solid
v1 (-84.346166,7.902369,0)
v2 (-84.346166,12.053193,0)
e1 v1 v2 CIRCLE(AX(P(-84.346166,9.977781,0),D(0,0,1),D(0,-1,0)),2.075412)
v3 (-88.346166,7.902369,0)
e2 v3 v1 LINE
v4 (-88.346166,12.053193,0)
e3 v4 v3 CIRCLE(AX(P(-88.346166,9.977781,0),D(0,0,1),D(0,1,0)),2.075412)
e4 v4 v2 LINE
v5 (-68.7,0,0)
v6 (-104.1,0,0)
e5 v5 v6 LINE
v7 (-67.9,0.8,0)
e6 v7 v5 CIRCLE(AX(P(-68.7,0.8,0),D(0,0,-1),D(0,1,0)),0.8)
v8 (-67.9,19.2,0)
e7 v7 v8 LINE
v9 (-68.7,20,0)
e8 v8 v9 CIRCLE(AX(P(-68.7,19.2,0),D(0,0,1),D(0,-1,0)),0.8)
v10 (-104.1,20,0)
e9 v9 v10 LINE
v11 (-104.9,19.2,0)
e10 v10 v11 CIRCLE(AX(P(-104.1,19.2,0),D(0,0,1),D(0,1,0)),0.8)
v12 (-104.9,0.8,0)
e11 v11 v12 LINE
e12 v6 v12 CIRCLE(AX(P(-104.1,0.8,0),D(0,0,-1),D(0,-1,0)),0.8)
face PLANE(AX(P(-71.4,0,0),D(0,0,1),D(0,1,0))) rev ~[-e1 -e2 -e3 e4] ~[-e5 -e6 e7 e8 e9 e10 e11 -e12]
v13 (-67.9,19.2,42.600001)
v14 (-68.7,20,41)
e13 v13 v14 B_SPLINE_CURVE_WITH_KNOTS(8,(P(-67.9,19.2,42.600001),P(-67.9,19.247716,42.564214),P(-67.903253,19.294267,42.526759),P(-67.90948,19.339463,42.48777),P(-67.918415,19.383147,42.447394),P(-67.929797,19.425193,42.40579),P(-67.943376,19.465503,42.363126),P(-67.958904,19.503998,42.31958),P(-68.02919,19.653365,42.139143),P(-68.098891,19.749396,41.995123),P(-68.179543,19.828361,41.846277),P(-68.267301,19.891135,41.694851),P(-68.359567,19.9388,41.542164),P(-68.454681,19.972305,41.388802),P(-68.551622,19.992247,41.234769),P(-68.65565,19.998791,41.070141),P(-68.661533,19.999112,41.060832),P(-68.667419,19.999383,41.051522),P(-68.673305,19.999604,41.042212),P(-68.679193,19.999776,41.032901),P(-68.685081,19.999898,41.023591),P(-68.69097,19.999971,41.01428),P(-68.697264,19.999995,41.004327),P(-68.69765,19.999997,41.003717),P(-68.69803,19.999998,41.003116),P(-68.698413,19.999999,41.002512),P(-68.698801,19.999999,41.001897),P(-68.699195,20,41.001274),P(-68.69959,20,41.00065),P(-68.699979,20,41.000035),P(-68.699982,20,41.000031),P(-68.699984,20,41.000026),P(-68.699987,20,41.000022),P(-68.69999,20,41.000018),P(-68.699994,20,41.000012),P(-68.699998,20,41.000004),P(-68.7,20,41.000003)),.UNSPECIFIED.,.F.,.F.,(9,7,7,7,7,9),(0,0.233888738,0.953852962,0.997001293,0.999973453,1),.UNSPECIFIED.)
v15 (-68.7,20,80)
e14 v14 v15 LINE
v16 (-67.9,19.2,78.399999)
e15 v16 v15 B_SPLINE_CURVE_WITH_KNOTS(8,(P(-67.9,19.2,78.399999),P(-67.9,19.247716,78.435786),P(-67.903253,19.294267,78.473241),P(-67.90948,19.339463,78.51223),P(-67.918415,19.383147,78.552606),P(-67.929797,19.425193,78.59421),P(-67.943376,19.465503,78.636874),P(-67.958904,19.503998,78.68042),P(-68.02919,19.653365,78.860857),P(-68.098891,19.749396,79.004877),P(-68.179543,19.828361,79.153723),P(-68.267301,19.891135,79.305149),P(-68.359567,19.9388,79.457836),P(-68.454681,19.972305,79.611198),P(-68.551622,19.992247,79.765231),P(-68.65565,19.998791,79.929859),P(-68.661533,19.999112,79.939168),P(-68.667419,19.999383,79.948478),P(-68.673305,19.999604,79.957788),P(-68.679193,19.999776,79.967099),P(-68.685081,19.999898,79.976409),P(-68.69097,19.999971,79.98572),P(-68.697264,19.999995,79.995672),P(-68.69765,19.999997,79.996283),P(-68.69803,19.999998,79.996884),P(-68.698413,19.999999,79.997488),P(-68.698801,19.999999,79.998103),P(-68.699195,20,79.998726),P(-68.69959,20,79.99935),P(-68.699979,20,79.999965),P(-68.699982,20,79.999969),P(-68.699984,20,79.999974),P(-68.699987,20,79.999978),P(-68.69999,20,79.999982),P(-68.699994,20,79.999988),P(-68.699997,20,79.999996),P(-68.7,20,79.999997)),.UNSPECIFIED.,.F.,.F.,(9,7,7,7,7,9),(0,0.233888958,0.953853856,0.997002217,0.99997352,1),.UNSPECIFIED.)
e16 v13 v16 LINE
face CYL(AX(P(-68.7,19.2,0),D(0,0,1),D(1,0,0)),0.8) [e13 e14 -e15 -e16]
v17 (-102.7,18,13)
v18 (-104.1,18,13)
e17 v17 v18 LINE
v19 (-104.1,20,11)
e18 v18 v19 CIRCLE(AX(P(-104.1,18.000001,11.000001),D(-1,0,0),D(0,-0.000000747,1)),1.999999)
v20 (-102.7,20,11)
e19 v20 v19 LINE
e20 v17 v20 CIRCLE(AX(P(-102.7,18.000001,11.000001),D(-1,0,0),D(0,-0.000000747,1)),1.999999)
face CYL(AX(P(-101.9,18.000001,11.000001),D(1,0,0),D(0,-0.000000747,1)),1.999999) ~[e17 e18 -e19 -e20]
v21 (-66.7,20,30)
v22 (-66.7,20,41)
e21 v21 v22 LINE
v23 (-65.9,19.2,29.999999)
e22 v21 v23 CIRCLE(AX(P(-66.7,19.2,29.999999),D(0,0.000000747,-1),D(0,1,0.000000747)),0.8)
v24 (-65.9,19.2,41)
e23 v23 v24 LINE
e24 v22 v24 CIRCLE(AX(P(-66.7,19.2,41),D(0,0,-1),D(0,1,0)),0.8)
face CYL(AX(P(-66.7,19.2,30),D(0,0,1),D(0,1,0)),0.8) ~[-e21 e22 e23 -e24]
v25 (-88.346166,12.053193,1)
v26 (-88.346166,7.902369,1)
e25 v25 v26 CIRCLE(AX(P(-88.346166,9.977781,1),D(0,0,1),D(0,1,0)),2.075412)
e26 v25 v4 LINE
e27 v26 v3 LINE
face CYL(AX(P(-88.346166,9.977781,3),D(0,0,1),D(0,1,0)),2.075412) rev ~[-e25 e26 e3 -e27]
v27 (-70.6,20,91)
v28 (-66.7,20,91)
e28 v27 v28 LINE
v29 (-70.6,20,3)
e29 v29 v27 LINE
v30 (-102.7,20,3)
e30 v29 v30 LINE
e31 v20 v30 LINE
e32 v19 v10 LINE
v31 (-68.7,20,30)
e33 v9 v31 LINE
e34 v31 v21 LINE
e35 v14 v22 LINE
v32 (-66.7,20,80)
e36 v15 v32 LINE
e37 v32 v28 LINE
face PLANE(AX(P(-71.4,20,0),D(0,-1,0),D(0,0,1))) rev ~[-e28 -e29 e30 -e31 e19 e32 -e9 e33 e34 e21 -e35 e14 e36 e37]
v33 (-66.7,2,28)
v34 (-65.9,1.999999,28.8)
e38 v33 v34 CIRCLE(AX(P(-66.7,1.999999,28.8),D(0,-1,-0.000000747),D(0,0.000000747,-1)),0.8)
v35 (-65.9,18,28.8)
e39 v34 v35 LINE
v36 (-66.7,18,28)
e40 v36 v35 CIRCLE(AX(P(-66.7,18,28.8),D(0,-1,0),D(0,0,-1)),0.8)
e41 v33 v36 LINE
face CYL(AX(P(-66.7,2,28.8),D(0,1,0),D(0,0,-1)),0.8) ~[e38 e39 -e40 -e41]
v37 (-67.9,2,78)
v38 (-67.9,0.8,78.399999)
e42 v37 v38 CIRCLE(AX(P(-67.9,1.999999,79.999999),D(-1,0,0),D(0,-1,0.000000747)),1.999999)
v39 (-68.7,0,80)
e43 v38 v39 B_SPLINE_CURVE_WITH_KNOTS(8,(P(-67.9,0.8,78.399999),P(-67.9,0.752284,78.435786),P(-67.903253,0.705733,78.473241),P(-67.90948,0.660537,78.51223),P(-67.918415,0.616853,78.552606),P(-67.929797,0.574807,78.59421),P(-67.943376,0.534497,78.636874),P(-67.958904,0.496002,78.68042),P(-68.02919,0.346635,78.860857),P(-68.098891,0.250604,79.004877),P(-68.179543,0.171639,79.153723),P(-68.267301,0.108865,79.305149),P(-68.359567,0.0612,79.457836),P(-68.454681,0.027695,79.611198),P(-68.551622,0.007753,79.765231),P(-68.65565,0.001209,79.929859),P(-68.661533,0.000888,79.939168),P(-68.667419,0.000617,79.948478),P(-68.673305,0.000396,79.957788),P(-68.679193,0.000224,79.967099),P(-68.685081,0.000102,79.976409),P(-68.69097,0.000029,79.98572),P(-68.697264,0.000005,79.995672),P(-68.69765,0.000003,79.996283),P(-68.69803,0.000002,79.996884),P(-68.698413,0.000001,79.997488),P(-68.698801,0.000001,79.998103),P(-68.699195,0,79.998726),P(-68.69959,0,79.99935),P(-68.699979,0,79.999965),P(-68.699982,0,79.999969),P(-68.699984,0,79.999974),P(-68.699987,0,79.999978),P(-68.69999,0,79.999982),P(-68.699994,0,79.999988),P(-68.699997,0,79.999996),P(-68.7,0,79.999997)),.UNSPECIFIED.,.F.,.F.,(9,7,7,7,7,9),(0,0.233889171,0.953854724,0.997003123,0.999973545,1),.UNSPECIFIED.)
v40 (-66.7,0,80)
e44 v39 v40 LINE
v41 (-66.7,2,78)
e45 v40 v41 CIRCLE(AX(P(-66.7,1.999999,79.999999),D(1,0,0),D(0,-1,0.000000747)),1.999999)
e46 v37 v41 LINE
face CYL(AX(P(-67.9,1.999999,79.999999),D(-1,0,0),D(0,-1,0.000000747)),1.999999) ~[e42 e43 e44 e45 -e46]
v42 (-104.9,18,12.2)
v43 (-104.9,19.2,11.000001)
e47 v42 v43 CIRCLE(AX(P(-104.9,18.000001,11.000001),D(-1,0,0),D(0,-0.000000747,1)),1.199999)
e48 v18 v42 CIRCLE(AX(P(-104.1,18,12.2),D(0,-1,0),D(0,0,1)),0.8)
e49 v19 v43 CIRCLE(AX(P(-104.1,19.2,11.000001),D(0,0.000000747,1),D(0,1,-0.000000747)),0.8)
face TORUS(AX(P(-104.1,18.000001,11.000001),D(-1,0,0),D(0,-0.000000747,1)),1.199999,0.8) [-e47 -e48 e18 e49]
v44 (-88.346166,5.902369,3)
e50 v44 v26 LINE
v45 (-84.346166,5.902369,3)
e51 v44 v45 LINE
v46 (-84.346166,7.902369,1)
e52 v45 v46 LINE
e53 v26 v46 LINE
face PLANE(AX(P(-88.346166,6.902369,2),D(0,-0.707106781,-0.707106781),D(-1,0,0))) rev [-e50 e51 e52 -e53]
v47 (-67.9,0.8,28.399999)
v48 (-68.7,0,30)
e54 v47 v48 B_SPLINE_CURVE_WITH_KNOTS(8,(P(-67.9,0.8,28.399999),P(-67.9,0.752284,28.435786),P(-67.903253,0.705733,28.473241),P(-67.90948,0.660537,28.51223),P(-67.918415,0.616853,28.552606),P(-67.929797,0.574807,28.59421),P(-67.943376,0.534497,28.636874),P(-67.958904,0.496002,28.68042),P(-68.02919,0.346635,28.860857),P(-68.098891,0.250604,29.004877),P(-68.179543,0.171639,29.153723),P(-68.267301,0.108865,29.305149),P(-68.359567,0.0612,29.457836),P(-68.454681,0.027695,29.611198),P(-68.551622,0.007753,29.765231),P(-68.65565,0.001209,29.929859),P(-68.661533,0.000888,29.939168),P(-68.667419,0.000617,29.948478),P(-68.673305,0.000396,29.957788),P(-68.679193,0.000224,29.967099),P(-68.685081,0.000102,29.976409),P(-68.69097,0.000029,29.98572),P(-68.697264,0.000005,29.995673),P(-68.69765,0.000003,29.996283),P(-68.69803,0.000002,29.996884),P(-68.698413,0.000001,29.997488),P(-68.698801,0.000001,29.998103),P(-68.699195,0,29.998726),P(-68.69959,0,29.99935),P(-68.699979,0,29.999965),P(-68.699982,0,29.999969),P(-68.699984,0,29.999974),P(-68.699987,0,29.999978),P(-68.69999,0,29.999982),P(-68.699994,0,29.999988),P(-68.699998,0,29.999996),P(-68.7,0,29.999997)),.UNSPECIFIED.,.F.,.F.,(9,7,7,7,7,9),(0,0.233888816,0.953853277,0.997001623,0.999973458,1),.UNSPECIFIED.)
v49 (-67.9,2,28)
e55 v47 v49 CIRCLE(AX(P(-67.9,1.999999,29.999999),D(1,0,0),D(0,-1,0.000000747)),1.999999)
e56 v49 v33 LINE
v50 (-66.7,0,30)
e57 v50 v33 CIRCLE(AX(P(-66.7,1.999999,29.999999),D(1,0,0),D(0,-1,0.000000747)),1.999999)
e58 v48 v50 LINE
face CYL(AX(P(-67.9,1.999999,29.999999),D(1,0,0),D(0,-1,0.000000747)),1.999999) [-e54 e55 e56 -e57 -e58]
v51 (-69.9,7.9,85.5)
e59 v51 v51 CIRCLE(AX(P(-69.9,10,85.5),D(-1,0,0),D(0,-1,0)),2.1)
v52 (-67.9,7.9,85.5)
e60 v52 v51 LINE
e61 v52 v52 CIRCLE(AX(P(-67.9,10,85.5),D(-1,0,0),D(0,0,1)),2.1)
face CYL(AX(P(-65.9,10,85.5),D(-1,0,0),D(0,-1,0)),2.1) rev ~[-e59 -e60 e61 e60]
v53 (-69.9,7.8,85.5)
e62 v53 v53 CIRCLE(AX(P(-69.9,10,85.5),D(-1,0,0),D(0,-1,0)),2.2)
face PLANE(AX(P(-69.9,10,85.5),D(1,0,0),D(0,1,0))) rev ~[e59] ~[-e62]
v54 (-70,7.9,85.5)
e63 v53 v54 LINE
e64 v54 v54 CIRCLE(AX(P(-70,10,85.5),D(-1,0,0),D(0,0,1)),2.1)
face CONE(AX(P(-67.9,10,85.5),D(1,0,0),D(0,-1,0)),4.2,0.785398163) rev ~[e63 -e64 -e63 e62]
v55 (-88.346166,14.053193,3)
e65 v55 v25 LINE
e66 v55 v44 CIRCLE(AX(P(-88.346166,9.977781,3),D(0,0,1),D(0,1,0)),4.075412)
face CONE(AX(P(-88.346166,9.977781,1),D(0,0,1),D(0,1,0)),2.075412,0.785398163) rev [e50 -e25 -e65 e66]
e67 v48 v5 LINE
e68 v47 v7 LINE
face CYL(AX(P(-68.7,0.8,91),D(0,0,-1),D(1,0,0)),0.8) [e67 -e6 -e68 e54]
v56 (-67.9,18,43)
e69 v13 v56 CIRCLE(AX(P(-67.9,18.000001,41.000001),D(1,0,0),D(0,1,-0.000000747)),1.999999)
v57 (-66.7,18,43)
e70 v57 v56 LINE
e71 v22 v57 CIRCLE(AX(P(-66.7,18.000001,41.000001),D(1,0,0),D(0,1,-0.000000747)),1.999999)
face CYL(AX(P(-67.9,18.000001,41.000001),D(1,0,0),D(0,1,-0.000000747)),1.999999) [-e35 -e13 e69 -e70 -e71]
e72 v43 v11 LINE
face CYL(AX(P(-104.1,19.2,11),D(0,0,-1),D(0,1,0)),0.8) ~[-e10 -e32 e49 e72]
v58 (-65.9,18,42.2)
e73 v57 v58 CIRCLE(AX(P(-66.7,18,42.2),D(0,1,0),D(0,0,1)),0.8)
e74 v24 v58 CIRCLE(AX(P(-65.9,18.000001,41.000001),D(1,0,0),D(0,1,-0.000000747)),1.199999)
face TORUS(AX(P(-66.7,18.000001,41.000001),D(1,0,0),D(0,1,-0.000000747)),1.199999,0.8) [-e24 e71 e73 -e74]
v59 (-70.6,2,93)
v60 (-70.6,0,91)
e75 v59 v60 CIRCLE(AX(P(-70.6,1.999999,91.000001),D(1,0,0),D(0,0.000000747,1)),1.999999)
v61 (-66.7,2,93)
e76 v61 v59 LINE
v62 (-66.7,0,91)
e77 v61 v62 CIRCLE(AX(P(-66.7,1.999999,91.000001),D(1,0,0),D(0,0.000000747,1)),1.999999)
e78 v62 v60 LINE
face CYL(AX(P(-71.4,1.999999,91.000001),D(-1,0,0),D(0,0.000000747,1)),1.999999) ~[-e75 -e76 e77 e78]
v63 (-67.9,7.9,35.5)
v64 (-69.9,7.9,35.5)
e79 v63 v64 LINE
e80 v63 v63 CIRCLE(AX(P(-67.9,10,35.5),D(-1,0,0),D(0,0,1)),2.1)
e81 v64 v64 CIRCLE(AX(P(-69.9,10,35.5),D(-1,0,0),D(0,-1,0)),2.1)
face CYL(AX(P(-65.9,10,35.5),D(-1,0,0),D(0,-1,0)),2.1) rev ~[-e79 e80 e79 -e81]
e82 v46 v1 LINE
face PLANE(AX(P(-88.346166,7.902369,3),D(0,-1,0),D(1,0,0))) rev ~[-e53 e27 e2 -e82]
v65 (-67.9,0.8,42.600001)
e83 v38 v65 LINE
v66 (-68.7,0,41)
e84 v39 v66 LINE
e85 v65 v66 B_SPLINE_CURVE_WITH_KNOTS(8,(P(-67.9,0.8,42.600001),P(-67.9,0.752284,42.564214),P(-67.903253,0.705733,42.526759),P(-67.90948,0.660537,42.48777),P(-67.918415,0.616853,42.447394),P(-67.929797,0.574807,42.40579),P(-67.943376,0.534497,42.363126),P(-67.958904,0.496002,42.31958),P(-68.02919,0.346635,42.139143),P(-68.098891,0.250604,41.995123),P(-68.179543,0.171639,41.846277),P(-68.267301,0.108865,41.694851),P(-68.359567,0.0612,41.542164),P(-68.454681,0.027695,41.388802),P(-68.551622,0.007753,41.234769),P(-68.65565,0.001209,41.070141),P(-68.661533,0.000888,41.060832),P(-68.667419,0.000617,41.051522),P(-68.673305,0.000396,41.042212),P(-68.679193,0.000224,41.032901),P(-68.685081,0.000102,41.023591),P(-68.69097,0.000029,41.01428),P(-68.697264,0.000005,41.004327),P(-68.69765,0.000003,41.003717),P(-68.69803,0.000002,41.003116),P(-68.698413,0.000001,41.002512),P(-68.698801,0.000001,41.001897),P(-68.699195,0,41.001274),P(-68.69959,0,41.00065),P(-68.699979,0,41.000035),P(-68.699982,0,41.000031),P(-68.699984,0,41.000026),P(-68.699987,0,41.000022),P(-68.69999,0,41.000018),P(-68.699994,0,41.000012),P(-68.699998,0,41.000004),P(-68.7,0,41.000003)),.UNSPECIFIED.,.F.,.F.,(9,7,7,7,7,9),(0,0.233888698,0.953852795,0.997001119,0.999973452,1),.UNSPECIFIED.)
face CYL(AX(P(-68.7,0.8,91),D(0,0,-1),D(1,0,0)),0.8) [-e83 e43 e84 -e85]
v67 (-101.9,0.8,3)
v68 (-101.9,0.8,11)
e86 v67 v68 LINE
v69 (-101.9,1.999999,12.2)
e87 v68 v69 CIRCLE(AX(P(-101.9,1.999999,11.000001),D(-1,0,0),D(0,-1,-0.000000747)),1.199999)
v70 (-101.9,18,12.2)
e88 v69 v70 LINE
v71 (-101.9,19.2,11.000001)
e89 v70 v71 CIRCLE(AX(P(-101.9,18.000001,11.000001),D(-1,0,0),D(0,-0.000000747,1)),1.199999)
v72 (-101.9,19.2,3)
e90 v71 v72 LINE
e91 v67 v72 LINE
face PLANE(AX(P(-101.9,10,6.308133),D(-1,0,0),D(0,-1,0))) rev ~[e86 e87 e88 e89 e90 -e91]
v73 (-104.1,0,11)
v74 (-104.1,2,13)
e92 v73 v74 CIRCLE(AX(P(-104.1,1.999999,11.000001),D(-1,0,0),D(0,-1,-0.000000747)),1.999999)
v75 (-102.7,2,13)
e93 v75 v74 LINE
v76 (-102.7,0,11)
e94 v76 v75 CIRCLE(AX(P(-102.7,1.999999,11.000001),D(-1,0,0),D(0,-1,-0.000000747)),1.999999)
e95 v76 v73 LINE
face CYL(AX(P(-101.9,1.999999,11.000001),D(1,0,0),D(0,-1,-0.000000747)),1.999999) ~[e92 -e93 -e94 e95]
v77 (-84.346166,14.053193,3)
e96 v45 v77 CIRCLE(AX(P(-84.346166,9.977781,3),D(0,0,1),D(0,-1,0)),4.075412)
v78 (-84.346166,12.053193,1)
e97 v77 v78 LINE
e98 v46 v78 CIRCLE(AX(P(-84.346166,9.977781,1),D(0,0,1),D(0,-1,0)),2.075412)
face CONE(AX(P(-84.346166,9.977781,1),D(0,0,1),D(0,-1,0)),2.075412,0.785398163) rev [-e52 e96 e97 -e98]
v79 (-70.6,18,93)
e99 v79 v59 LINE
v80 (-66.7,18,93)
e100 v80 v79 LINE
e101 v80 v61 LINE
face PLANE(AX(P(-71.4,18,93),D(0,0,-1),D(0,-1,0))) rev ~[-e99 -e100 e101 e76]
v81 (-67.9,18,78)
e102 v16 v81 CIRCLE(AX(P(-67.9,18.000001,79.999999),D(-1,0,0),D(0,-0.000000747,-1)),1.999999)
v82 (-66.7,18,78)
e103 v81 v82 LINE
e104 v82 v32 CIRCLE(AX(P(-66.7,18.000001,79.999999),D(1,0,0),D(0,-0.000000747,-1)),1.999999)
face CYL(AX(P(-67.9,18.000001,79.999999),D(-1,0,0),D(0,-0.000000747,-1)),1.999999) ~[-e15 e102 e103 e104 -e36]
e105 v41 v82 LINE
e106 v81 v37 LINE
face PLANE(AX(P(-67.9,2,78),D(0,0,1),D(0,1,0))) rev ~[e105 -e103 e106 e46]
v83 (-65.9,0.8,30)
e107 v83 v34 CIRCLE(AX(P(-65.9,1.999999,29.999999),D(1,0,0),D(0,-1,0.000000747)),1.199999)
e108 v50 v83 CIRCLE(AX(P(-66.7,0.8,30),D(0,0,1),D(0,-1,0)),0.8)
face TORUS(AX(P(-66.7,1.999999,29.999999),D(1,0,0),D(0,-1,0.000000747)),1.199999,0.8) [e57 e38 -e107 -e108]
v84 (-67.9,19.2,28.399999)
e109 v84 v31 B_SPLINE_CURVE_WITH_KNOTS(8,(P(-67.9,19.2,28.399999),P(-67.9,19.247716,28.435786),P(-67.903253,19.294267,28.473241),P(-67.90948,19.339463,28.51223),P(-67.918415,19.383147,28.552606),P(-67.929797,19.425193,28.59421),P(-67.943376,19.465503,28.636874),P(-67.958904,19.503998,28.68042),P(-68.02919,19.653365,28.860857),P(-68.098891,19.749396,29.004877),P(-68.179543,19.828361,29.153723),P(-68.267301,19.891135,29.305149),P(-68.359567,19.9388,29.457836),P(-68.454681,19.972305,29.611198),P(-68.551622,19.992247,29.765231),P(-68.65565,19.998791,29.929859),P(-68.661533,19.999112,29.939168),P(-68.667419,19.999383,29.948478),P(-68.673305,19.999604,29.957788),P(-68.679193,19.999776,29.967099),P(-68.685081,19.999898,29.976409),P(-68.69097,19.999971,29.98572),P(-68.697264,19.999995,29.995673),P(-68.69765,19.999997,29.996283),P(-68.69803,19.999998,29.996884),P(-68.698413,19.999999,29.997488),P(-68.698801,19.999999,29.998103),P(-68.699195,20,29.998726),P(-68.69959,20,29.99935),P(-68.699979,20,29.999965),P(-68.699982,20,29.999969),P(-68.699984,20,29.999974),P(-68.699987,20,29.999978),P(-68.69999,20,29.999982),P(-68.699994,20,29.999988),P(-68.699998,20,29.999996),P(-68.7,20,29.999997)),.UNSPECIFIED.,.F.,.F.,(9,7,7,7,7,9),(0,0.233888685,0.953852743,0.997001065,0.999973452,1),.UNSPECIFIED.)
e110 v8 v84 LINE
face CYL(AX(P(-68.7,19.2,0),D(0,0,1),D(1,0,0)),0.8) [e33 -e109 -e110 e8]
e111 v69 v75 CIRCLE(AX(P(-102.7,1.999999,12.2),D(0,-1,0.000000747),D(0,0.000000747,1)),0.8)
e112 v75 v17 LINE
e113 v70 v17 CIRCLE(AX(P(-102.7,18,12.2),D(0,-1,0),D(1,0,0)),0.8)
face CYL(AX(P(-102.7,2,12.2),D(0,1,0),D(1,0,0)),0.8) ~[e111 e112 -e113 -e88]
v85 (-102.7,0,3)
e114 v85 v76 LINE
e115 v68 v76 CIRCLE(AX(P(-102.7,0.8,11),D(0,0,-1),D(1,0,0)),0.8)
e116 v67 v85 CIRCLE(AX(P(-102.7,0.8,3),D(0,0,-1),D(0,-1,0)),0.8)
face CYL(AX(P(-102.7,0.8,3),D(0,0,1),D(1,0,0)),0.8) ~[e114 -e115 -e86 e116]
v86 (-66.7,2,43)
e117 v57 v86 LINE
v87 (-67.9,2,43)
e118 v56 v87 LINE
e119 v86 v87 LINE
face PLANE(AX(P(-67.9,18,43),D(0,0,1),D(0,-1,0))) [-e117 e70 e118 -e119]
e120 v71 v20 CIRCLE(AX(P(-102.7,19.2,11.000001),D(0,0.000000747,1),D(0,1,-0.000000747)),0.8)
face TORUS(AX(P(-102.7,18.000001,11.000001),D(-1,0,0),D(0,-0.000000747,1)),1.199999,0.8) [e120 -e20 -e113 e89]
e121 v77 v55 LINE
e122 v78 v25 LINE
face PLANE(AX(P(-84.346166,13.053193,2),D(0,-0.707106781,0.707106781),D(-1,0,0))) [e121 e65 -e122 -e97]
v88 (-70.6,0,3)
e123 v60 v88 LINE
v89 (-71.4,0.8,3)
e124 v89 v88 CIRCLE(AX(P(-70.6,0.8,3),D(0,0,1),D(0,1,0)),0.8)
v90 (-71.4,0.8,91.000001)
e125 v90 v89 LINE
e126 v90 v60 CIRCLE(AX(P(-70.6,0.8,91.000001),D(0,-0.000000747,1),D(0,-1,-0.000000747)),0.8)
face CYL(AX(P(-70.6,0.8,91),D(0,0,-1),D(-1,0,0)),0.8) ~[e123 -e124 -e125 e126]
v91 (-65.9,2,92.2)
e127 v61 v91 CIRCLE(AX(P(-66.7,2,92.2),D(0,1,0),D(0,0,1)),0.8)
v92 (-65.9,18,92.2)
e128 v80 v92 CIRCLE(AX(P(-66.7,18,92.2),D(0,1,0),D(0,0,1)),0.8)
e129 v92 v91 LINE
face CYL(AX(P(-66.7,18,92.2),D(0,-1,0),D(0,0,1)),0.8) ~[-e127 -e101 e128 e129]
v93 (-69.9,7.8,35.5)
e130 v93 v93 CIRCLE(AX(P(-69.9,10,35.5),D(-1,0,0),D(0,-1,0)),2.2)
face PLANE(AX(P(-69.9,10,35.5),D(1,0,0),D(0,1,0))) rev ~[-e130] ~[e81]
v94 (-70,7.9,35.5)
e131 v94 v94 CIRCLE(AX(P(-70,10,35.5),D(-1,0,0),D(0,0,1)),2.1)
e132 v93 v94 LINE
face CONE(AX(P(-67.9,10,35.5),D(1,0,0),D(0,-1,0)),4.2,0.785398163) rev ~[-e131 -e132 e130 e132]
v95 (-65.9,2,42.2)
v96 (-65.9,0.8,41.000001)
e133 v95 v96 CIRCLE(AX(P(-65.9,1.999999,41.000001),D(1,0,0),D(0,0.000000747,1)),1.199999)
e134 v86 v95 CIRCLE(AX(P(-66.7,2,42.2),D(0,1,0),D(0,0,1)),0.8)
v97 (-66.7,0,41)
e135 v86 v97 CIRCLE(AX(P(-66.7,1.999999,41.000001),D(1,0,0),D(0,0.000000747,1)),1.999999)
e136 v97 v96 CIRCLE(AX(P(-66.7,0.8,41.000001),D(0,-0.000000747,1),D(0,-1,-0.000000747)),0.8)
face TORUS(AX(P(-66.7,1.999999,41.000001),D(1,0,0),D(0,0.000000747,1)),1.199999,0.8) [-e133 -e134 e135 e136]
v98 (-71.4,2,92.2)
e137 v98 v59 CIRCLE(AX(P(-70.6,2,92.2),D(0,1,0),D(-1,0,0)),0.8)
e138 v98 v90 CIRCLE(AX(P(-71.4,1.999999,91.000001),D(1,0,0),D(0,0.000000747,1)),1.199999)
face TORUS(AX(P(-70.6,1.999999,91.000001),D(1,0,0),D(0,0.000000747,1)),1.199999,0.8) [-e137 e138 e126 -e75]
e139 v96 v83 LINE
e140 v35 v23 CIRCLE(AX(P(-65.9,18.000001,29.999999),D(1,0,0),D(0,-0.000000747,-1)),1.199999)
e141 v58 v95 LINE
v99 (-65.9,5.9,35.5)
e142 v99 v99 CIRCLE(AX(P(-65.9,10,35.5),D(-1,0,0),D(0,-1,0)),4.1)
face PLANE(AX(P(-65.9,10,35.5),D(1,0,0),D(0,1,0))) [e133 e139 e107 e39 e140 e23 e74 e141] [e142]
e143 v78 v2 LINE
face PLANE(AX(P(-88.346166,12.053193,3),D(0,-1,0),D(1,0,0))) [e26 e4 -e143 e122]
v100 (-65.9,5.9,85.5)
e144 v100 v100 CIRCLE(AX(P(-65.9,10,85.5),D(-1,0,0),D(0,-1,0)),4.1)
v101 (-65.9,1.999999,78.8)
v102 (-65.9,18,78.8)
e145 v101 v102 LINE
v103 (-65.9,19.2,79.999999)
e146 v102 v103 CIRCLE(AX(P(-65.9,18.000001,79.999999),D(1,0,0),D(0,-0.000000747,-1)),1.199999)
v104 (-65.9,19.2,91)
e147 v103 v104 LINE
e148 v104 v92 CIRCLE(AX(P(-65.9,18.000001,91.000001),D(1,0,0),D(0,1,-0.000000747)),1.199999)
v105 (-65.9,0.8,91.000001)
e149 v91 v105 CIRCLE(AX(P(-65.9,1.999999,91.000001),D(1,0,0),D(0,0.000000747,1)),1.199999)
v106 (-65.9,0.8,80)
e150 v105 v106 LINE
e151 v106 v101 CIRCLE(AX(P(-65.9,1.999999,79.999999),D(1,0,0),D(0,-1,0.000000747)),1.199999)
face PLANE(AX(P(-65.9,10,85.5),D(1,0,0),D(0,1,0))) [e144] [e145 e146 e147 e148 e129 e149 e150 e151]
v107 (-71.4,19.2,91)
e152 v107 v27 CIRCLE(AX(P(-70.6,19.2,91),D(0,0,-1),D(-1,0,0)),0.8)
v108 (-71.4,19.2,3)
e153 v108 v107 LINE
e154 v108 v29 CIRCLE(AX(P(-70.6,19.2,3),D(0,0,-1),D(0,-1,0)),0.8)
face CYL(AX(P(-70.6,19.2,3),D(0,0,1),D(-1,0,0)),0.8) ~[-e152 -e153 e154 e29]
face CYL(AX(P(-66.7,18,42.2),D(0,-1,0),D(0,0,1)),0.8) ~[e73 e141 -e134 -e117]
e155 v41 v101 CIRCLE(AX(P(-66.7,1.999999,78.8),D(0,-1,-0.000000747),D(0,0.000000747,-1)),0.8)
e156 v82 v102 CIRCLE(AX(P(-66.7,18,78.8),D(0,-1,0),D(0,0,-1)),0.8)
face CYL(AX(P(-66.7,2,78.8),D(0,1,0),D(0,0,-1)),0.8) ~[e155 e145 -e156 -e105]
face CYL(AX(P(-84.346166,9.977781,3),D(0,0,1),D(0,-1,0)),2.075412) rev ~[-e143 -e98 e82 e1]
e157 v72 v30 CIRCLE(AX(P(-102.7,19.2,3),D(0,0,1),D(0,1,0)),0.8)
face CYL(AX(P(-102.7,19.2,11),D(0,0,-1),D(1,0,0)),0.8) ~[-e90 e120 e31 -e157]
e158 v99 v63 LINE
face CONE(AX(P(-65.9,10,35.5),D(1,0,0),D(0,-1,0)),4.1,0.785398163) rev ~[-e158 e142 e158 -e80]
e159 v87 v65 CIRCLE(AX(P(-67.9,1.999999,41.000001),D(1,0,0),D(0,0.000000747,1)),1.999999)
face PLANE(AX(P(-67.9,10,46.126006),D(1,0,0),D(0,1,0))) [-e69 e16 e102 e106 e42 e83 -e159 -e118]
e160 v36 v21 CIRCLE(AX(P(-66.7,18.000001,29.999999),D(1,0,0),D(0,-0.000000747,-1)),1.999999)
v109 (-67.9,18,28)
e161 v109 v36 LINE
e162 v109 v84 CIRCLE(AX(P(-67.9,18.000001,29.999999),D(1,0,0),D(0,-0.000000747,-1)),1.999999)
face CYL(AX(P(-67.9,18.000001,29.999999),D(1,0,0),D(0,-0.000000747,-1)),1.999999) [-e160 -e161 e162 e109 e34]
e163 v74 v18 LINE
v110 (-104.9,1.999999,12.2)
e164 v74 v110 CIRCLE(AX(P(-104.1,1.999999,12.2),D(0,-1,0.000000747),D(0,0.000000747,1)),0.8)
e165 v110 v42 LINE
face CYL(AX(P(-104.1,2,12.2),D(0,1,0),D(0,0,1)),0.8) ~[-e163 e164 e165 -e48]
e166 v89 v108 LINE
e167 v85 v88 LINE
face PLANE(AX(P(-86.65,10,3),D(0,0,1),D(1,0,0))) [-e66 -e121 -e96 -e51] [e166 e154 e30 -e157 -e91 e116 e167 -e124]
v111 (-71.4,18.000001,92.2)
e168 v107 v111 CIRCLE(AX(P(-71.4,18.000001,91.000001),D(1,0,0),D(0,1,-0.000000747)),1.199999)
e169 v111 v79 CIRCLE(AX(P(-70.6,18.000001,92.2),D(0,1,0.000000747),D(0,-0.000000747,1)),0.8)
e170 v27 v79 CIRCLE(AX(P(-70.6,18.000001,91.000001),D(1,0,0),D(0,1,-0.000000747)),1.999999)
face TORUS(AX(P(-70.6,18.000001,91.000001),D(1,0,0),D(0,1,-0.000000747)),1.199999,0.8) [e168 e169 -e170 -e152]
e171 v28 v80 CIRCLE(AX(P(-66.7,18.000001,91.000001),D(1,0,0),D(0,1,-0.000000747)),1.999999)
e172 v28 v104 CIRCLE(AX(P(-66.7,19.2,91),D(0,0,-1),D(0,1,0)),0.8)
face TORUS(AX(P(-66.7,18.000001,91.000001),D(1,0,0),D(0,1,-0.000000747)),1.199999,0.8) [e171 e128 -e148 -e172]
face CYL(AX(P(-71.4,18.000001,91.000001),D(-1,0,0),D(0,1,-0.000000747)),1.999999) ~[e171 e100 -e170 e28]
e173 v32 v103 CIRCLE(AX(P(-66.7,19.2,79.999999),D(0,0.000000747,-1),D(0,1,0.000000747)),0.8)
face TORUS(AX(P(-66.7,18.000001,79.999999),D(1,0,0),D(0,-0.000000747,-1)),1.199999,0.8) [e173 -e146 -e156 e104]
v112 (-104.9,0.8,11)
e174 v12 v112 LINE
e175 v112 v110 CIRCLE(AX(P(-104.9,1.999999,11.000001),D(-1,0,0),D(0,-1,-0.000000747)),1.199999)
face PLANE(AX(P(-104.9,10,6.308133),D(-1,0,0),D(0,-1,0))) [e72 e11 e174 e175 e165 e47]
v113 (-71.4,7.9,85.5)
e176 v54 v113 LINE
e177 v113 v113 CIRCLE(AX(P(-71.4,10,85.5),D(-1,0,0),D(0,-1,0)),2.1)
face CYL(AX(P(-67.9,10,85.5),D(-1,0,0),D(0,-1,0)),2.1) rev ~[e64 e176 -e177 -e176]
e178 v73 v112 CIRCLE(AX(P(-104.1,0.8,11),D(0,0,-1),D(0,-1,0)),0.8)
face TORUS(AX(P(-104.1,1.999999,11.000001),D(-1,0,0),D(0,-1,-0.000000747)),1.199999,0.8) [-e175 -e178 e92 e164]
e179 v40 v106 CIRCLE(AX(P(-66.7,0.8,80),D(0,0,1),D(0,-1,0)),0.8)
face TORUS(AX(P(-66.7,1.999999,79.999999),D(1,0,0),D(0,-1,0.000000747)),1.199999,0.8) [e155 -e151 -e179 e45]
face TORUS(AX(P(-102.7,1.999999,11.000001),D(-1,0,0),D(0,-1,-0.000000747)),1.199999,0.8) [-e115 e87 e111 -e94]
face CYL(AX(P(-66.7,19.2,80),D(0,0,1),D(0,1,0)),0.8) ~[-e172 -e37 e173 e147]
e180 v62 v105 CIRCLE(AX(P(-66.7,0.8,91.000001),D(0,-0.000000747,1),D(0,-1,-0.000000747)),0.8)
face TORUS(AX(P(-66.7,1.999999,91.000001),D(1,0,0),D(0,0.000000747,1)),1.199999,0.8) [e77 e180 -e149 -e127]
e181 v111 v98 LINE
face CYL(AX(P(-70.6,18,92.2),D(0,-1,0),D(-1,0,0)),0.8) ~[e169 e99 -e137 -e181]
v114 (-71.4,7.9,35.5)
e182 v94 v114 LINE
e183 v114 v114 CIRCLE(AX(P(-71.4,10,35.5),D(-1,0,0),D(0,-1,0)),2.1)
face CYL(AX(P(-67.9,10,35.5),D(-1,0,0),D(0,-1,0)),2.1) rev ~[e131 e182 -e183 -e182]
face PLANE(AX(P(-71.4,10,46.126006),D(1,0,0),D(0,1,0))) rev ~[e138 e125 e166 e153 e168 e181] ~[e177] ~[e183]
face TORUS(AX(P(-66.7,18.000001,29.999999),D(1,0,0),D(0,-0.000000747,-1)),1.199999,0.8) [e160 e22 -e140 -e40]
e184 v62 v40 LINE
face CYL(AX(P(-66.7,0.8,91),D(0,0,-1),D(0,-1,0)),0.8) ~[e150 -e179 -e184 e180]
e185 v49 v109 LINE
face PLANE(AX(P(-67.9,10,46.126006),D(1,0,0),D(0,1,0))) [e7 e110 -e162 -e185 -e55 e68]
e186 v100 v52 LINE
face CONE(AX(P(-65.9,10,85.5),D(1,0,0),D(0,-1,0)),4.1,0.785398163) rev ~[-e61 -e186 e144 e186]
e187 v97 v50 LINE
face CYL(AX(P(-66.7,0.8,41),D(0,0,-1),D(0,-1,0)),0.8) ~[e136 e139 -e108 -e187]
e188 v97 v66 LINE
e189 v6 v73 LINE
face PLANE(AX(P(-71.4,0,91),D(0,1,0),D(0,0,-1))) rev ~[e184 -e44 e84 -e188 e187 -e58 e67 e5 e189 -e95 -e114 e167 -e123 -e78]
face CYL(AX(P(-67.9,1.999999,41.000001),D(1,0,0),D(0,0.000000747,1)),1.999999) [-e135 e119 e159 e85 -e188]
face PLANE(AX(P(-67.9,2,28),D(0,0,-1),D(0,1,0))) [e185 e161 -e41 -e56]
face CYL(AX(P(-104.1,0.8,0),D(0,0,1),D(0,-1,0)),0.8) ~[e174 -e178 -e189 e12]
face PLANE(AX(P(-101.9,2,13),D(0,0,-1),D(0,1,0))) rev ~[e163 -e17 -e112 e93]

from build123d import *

# Parameters (mm, degrees)
SKETCH013_W         = 30.5
SKETCH013_H         = 20
PAD007_DEPTH        = 3
PAD008_DEPTH        = 3
PAD009_DEPTH        = 3.5
HOLE004_D           = 4.2
HOLE004_DEPTH       = 25
HOLE004_CSINK_D     = 8.4
HOLE004_CSINK_ANGLE = 90
HOLE004_TIPS_R      = 2.1
POCKET002_DEPTH     = 3.001
CHAMFER_SIZE        = 2
FILLET_R            = 0.8
PAD017_DEPTH        = 2
HOLE008_D           = 4.2
HOLE008_DEPTH       = 25
HOLE008_CSINK_D     = 8.2
HOLE008_CSINK_ANGLE = 90
HOLE008_TIPS_R      = 2.1
FILLET002_R         = 0.8


with BuildPart() as part:
    # Sketch013 → Pad007 (new body)
    with BuildSketch(Plane.XY):
        with Locations((18.25, 10)):
            Rectangle(SKETCH013_W, SKETCH013_H)
    extrude(amount=PAD007_DEPTH)

    # Sketch014 (on Face4 of Pad007) → Pad008 (join)
    with BuildSketch(Plane(origin=(3, 0, 0), x_dir=(0, -1, 0), z_dir=(-1, 0, 0))):
        with BuildLine():
            Line((-20, 0), (0, 0))
            Line((0, 0), (0, 11))
            ThreePointArc((0, 11), (-0.585786, 12.414214), (-2, 13))
            Line((-2, 13), (-18, 13))
            ThreePointArc((-18, 13), (-19.414214, 12.414214), (-20, 11))
            Line((-20, 11), (-20, 0))
        make_face()
    extrude(amount=PAD008_DEPTH)

    # Sketch015 (on Face1 of Pad008) → Pad009 (join)
    with BuildSketch(Plane.YZ.offset(33.5)):
        with BuildLine():
            Line((20, 0), (20, 91))
            ThreePointArc((20, 91), (19.414214, 92.414214), (18, 93))
            Line((18, 93), (2, 93))
            ThreePointArc((2, 93), (0.585786, 92.414214), (0, 91))
            Line((0, 91), (0, 0))
            Line((0, 0), (20, 0))
        make_face()
    extrude(amount=PAD009_DEPTH)

    # Hole004
    with Locations(Plane.YZ.offset(37)):
        with Locations((10, 35.5), (10, 85.5)):
            CounterSinkHole(HOLE004_D / 2, HOLE004_CSINK_D / 2, depth=HOLE004_DEPTH, counter_sink_angle=HOLE004_CSINK_ANGLE)

    # Hole004 tips → Hole004 tip 1 section 0
    with BuildSketch(Plane.YZ.offset(12), mode=Mode.PRIVATE) as hole004_tip_1_s0:
        with Locations((10, 35.5)):
            Circle(HOLE004_TIPS_R)
    loft([hole004_tip_1_s0.sketch, Vertex(10.738193, 10, 35.5)], mode=Mode.SUBTRACT)

    # Hole004 tips → Hole004 tip 2 section 0
    with BuildSketch(Plane.YZ.offset(12), mode=Mode.PRIVATE) as hole004_tip_2_s0:
        with Locations((10, 85.5)):
            Circle(HOLE004_TIPS_R)
    loft([hole004_tip_2_s0.sketch, Vertex(10.738193, 10, 85.5)], mode=Mode.SUBTRACT)

    # Sketch017 (on Face1 of Hole004) → Pocket002 (cut, through all)
    with BuildSketch(Plane.XY.offset(3)):
        with BuildLine():
            ThreePointArc((16.553834, 12.053193), (14.478422, 9.977781), (16.553834, 7.902369))
            Line((16.553834, 7.902369), (20.553834, 7.902369))
            ThreePointArc((20.553834, 7.902369), (22.629246, 9.977781), (20.553834, 12.053193))
            Line((16.553834, 12.053193), (20.553834, 12.053193))
        make_face()
    extrude(amount=-POCKET002_DEPTH, mode=Mode.SUBTRACT)

    # Chamfer
    chamfer_edges = [part.edges().sort_by_distance(p)[0] for p in [
        (18.553834, 7.902369, 3),
    ]]
    chamfer(chamfer_edges, length=CHAMFER_SIZE)

    # Fillet
    fillet_edges = [part.edges().sort_by_distance(p)[0] for p in [
        (0, 10, 13),
        (3, 10, 13),
        (33.5, 10, 93),
        (37, 10, 93),
    ]]
    fillet(fillet_edges, radius=FILLET_R)

    # Sketch035 (on Face38 of Fillet) → Pad017 (join, symmetric)
    with BuildSketch(Plane.YZ.offset(37)):
        with BuildLine():
            Line((0, 91), (0, 80))
            ThreePointArc((0, 80), (0.585786, 78.585786), (2, 78))
            Line((2, 78), (18, 78))
            ThreePointArc((18, 78), (19.414214, 78.585786), (20, 80))
            Line((20, 80), (20, 91))
            ThreePointArc((20, 91), (19.414214, 92.414214), (18, 93))
            Line((18, 93), (2, 93))
            ThreePointArc((2, 93), (0.585786, 92.414214), (0, 91))
        make_face()
        with BuildLine():
            Line((0, 41), (0, 30))
            ThreePointArc((0, 30), (0.585786, 28.585786), (2, 28))
            Line((2, 28), (18, 28))
            ThreePointArc((18, 28), (19.414214, 28.585786), (20, 30))
            Line((20, 30), (20, 41))
            ThreePointArc((20, 41), (19.414214, 42.414214), (18, 43))
            Line((18, 43), (2, 43))
            ThreePointArc((2, 43), (0.585786, 42.414214), (0, 41))
        make_face()
    extrude(amount=PAD017_DEPTH, both=True)

    # Hole008
    with Locations(Plane.YZ.offset(39)):
        with Locations((10, 85.5), (10, 35.5)):
            CounterSinkHole(HOLE008_D / 2, HOLE008_CSINK_D / 2, depth=HOLE008_DEPTH, counter_sink_angle=HOLE008_CSINK_ANGLE)

    # Hole008 tips → Hole008 tip 1 section 0
    with BuildSketch(Plane.YZ.offset(14), mode=Mode.PRIVATE) as hole008_tip_1_s0:
        with Locations((10, 85.5)):
            Circle(HOLE008_TIPS_R)
    loft([hole008_tip_1_s0.sketch, Vertex(12.738193, 10, 85.5)], mode=Mode.SUBTRACT)

    # Hole008 tips → Hole008 tip 2 section 0
    with BuildSketch(Plane.YZ.offset(14), mode=Mode.PRIVATE) as hole008_tip_2_s0:
        with Locations((10, 35.5)):
            Circle(HOLE008_TIPS_R)
    loft([hole008_tip_2_s0.sketch, Vertex(12.738193, 10, 35.5)], mode=Mode.SUBTRACT)

    # Fillet002
    fillet002_edges = [part.edges().sort_by_distance(p)[0] for p in [
        (39, 10, 93),
        (39, 10, 43),
    ]]
    fillet(fillet002_edges, radius=FILLET002_R)


with BuildPart() as part_1:
    # Body003 placement: moved
    add(part.part.moved(Location((-104.9, 0, 0))))


solid = part_1.part
